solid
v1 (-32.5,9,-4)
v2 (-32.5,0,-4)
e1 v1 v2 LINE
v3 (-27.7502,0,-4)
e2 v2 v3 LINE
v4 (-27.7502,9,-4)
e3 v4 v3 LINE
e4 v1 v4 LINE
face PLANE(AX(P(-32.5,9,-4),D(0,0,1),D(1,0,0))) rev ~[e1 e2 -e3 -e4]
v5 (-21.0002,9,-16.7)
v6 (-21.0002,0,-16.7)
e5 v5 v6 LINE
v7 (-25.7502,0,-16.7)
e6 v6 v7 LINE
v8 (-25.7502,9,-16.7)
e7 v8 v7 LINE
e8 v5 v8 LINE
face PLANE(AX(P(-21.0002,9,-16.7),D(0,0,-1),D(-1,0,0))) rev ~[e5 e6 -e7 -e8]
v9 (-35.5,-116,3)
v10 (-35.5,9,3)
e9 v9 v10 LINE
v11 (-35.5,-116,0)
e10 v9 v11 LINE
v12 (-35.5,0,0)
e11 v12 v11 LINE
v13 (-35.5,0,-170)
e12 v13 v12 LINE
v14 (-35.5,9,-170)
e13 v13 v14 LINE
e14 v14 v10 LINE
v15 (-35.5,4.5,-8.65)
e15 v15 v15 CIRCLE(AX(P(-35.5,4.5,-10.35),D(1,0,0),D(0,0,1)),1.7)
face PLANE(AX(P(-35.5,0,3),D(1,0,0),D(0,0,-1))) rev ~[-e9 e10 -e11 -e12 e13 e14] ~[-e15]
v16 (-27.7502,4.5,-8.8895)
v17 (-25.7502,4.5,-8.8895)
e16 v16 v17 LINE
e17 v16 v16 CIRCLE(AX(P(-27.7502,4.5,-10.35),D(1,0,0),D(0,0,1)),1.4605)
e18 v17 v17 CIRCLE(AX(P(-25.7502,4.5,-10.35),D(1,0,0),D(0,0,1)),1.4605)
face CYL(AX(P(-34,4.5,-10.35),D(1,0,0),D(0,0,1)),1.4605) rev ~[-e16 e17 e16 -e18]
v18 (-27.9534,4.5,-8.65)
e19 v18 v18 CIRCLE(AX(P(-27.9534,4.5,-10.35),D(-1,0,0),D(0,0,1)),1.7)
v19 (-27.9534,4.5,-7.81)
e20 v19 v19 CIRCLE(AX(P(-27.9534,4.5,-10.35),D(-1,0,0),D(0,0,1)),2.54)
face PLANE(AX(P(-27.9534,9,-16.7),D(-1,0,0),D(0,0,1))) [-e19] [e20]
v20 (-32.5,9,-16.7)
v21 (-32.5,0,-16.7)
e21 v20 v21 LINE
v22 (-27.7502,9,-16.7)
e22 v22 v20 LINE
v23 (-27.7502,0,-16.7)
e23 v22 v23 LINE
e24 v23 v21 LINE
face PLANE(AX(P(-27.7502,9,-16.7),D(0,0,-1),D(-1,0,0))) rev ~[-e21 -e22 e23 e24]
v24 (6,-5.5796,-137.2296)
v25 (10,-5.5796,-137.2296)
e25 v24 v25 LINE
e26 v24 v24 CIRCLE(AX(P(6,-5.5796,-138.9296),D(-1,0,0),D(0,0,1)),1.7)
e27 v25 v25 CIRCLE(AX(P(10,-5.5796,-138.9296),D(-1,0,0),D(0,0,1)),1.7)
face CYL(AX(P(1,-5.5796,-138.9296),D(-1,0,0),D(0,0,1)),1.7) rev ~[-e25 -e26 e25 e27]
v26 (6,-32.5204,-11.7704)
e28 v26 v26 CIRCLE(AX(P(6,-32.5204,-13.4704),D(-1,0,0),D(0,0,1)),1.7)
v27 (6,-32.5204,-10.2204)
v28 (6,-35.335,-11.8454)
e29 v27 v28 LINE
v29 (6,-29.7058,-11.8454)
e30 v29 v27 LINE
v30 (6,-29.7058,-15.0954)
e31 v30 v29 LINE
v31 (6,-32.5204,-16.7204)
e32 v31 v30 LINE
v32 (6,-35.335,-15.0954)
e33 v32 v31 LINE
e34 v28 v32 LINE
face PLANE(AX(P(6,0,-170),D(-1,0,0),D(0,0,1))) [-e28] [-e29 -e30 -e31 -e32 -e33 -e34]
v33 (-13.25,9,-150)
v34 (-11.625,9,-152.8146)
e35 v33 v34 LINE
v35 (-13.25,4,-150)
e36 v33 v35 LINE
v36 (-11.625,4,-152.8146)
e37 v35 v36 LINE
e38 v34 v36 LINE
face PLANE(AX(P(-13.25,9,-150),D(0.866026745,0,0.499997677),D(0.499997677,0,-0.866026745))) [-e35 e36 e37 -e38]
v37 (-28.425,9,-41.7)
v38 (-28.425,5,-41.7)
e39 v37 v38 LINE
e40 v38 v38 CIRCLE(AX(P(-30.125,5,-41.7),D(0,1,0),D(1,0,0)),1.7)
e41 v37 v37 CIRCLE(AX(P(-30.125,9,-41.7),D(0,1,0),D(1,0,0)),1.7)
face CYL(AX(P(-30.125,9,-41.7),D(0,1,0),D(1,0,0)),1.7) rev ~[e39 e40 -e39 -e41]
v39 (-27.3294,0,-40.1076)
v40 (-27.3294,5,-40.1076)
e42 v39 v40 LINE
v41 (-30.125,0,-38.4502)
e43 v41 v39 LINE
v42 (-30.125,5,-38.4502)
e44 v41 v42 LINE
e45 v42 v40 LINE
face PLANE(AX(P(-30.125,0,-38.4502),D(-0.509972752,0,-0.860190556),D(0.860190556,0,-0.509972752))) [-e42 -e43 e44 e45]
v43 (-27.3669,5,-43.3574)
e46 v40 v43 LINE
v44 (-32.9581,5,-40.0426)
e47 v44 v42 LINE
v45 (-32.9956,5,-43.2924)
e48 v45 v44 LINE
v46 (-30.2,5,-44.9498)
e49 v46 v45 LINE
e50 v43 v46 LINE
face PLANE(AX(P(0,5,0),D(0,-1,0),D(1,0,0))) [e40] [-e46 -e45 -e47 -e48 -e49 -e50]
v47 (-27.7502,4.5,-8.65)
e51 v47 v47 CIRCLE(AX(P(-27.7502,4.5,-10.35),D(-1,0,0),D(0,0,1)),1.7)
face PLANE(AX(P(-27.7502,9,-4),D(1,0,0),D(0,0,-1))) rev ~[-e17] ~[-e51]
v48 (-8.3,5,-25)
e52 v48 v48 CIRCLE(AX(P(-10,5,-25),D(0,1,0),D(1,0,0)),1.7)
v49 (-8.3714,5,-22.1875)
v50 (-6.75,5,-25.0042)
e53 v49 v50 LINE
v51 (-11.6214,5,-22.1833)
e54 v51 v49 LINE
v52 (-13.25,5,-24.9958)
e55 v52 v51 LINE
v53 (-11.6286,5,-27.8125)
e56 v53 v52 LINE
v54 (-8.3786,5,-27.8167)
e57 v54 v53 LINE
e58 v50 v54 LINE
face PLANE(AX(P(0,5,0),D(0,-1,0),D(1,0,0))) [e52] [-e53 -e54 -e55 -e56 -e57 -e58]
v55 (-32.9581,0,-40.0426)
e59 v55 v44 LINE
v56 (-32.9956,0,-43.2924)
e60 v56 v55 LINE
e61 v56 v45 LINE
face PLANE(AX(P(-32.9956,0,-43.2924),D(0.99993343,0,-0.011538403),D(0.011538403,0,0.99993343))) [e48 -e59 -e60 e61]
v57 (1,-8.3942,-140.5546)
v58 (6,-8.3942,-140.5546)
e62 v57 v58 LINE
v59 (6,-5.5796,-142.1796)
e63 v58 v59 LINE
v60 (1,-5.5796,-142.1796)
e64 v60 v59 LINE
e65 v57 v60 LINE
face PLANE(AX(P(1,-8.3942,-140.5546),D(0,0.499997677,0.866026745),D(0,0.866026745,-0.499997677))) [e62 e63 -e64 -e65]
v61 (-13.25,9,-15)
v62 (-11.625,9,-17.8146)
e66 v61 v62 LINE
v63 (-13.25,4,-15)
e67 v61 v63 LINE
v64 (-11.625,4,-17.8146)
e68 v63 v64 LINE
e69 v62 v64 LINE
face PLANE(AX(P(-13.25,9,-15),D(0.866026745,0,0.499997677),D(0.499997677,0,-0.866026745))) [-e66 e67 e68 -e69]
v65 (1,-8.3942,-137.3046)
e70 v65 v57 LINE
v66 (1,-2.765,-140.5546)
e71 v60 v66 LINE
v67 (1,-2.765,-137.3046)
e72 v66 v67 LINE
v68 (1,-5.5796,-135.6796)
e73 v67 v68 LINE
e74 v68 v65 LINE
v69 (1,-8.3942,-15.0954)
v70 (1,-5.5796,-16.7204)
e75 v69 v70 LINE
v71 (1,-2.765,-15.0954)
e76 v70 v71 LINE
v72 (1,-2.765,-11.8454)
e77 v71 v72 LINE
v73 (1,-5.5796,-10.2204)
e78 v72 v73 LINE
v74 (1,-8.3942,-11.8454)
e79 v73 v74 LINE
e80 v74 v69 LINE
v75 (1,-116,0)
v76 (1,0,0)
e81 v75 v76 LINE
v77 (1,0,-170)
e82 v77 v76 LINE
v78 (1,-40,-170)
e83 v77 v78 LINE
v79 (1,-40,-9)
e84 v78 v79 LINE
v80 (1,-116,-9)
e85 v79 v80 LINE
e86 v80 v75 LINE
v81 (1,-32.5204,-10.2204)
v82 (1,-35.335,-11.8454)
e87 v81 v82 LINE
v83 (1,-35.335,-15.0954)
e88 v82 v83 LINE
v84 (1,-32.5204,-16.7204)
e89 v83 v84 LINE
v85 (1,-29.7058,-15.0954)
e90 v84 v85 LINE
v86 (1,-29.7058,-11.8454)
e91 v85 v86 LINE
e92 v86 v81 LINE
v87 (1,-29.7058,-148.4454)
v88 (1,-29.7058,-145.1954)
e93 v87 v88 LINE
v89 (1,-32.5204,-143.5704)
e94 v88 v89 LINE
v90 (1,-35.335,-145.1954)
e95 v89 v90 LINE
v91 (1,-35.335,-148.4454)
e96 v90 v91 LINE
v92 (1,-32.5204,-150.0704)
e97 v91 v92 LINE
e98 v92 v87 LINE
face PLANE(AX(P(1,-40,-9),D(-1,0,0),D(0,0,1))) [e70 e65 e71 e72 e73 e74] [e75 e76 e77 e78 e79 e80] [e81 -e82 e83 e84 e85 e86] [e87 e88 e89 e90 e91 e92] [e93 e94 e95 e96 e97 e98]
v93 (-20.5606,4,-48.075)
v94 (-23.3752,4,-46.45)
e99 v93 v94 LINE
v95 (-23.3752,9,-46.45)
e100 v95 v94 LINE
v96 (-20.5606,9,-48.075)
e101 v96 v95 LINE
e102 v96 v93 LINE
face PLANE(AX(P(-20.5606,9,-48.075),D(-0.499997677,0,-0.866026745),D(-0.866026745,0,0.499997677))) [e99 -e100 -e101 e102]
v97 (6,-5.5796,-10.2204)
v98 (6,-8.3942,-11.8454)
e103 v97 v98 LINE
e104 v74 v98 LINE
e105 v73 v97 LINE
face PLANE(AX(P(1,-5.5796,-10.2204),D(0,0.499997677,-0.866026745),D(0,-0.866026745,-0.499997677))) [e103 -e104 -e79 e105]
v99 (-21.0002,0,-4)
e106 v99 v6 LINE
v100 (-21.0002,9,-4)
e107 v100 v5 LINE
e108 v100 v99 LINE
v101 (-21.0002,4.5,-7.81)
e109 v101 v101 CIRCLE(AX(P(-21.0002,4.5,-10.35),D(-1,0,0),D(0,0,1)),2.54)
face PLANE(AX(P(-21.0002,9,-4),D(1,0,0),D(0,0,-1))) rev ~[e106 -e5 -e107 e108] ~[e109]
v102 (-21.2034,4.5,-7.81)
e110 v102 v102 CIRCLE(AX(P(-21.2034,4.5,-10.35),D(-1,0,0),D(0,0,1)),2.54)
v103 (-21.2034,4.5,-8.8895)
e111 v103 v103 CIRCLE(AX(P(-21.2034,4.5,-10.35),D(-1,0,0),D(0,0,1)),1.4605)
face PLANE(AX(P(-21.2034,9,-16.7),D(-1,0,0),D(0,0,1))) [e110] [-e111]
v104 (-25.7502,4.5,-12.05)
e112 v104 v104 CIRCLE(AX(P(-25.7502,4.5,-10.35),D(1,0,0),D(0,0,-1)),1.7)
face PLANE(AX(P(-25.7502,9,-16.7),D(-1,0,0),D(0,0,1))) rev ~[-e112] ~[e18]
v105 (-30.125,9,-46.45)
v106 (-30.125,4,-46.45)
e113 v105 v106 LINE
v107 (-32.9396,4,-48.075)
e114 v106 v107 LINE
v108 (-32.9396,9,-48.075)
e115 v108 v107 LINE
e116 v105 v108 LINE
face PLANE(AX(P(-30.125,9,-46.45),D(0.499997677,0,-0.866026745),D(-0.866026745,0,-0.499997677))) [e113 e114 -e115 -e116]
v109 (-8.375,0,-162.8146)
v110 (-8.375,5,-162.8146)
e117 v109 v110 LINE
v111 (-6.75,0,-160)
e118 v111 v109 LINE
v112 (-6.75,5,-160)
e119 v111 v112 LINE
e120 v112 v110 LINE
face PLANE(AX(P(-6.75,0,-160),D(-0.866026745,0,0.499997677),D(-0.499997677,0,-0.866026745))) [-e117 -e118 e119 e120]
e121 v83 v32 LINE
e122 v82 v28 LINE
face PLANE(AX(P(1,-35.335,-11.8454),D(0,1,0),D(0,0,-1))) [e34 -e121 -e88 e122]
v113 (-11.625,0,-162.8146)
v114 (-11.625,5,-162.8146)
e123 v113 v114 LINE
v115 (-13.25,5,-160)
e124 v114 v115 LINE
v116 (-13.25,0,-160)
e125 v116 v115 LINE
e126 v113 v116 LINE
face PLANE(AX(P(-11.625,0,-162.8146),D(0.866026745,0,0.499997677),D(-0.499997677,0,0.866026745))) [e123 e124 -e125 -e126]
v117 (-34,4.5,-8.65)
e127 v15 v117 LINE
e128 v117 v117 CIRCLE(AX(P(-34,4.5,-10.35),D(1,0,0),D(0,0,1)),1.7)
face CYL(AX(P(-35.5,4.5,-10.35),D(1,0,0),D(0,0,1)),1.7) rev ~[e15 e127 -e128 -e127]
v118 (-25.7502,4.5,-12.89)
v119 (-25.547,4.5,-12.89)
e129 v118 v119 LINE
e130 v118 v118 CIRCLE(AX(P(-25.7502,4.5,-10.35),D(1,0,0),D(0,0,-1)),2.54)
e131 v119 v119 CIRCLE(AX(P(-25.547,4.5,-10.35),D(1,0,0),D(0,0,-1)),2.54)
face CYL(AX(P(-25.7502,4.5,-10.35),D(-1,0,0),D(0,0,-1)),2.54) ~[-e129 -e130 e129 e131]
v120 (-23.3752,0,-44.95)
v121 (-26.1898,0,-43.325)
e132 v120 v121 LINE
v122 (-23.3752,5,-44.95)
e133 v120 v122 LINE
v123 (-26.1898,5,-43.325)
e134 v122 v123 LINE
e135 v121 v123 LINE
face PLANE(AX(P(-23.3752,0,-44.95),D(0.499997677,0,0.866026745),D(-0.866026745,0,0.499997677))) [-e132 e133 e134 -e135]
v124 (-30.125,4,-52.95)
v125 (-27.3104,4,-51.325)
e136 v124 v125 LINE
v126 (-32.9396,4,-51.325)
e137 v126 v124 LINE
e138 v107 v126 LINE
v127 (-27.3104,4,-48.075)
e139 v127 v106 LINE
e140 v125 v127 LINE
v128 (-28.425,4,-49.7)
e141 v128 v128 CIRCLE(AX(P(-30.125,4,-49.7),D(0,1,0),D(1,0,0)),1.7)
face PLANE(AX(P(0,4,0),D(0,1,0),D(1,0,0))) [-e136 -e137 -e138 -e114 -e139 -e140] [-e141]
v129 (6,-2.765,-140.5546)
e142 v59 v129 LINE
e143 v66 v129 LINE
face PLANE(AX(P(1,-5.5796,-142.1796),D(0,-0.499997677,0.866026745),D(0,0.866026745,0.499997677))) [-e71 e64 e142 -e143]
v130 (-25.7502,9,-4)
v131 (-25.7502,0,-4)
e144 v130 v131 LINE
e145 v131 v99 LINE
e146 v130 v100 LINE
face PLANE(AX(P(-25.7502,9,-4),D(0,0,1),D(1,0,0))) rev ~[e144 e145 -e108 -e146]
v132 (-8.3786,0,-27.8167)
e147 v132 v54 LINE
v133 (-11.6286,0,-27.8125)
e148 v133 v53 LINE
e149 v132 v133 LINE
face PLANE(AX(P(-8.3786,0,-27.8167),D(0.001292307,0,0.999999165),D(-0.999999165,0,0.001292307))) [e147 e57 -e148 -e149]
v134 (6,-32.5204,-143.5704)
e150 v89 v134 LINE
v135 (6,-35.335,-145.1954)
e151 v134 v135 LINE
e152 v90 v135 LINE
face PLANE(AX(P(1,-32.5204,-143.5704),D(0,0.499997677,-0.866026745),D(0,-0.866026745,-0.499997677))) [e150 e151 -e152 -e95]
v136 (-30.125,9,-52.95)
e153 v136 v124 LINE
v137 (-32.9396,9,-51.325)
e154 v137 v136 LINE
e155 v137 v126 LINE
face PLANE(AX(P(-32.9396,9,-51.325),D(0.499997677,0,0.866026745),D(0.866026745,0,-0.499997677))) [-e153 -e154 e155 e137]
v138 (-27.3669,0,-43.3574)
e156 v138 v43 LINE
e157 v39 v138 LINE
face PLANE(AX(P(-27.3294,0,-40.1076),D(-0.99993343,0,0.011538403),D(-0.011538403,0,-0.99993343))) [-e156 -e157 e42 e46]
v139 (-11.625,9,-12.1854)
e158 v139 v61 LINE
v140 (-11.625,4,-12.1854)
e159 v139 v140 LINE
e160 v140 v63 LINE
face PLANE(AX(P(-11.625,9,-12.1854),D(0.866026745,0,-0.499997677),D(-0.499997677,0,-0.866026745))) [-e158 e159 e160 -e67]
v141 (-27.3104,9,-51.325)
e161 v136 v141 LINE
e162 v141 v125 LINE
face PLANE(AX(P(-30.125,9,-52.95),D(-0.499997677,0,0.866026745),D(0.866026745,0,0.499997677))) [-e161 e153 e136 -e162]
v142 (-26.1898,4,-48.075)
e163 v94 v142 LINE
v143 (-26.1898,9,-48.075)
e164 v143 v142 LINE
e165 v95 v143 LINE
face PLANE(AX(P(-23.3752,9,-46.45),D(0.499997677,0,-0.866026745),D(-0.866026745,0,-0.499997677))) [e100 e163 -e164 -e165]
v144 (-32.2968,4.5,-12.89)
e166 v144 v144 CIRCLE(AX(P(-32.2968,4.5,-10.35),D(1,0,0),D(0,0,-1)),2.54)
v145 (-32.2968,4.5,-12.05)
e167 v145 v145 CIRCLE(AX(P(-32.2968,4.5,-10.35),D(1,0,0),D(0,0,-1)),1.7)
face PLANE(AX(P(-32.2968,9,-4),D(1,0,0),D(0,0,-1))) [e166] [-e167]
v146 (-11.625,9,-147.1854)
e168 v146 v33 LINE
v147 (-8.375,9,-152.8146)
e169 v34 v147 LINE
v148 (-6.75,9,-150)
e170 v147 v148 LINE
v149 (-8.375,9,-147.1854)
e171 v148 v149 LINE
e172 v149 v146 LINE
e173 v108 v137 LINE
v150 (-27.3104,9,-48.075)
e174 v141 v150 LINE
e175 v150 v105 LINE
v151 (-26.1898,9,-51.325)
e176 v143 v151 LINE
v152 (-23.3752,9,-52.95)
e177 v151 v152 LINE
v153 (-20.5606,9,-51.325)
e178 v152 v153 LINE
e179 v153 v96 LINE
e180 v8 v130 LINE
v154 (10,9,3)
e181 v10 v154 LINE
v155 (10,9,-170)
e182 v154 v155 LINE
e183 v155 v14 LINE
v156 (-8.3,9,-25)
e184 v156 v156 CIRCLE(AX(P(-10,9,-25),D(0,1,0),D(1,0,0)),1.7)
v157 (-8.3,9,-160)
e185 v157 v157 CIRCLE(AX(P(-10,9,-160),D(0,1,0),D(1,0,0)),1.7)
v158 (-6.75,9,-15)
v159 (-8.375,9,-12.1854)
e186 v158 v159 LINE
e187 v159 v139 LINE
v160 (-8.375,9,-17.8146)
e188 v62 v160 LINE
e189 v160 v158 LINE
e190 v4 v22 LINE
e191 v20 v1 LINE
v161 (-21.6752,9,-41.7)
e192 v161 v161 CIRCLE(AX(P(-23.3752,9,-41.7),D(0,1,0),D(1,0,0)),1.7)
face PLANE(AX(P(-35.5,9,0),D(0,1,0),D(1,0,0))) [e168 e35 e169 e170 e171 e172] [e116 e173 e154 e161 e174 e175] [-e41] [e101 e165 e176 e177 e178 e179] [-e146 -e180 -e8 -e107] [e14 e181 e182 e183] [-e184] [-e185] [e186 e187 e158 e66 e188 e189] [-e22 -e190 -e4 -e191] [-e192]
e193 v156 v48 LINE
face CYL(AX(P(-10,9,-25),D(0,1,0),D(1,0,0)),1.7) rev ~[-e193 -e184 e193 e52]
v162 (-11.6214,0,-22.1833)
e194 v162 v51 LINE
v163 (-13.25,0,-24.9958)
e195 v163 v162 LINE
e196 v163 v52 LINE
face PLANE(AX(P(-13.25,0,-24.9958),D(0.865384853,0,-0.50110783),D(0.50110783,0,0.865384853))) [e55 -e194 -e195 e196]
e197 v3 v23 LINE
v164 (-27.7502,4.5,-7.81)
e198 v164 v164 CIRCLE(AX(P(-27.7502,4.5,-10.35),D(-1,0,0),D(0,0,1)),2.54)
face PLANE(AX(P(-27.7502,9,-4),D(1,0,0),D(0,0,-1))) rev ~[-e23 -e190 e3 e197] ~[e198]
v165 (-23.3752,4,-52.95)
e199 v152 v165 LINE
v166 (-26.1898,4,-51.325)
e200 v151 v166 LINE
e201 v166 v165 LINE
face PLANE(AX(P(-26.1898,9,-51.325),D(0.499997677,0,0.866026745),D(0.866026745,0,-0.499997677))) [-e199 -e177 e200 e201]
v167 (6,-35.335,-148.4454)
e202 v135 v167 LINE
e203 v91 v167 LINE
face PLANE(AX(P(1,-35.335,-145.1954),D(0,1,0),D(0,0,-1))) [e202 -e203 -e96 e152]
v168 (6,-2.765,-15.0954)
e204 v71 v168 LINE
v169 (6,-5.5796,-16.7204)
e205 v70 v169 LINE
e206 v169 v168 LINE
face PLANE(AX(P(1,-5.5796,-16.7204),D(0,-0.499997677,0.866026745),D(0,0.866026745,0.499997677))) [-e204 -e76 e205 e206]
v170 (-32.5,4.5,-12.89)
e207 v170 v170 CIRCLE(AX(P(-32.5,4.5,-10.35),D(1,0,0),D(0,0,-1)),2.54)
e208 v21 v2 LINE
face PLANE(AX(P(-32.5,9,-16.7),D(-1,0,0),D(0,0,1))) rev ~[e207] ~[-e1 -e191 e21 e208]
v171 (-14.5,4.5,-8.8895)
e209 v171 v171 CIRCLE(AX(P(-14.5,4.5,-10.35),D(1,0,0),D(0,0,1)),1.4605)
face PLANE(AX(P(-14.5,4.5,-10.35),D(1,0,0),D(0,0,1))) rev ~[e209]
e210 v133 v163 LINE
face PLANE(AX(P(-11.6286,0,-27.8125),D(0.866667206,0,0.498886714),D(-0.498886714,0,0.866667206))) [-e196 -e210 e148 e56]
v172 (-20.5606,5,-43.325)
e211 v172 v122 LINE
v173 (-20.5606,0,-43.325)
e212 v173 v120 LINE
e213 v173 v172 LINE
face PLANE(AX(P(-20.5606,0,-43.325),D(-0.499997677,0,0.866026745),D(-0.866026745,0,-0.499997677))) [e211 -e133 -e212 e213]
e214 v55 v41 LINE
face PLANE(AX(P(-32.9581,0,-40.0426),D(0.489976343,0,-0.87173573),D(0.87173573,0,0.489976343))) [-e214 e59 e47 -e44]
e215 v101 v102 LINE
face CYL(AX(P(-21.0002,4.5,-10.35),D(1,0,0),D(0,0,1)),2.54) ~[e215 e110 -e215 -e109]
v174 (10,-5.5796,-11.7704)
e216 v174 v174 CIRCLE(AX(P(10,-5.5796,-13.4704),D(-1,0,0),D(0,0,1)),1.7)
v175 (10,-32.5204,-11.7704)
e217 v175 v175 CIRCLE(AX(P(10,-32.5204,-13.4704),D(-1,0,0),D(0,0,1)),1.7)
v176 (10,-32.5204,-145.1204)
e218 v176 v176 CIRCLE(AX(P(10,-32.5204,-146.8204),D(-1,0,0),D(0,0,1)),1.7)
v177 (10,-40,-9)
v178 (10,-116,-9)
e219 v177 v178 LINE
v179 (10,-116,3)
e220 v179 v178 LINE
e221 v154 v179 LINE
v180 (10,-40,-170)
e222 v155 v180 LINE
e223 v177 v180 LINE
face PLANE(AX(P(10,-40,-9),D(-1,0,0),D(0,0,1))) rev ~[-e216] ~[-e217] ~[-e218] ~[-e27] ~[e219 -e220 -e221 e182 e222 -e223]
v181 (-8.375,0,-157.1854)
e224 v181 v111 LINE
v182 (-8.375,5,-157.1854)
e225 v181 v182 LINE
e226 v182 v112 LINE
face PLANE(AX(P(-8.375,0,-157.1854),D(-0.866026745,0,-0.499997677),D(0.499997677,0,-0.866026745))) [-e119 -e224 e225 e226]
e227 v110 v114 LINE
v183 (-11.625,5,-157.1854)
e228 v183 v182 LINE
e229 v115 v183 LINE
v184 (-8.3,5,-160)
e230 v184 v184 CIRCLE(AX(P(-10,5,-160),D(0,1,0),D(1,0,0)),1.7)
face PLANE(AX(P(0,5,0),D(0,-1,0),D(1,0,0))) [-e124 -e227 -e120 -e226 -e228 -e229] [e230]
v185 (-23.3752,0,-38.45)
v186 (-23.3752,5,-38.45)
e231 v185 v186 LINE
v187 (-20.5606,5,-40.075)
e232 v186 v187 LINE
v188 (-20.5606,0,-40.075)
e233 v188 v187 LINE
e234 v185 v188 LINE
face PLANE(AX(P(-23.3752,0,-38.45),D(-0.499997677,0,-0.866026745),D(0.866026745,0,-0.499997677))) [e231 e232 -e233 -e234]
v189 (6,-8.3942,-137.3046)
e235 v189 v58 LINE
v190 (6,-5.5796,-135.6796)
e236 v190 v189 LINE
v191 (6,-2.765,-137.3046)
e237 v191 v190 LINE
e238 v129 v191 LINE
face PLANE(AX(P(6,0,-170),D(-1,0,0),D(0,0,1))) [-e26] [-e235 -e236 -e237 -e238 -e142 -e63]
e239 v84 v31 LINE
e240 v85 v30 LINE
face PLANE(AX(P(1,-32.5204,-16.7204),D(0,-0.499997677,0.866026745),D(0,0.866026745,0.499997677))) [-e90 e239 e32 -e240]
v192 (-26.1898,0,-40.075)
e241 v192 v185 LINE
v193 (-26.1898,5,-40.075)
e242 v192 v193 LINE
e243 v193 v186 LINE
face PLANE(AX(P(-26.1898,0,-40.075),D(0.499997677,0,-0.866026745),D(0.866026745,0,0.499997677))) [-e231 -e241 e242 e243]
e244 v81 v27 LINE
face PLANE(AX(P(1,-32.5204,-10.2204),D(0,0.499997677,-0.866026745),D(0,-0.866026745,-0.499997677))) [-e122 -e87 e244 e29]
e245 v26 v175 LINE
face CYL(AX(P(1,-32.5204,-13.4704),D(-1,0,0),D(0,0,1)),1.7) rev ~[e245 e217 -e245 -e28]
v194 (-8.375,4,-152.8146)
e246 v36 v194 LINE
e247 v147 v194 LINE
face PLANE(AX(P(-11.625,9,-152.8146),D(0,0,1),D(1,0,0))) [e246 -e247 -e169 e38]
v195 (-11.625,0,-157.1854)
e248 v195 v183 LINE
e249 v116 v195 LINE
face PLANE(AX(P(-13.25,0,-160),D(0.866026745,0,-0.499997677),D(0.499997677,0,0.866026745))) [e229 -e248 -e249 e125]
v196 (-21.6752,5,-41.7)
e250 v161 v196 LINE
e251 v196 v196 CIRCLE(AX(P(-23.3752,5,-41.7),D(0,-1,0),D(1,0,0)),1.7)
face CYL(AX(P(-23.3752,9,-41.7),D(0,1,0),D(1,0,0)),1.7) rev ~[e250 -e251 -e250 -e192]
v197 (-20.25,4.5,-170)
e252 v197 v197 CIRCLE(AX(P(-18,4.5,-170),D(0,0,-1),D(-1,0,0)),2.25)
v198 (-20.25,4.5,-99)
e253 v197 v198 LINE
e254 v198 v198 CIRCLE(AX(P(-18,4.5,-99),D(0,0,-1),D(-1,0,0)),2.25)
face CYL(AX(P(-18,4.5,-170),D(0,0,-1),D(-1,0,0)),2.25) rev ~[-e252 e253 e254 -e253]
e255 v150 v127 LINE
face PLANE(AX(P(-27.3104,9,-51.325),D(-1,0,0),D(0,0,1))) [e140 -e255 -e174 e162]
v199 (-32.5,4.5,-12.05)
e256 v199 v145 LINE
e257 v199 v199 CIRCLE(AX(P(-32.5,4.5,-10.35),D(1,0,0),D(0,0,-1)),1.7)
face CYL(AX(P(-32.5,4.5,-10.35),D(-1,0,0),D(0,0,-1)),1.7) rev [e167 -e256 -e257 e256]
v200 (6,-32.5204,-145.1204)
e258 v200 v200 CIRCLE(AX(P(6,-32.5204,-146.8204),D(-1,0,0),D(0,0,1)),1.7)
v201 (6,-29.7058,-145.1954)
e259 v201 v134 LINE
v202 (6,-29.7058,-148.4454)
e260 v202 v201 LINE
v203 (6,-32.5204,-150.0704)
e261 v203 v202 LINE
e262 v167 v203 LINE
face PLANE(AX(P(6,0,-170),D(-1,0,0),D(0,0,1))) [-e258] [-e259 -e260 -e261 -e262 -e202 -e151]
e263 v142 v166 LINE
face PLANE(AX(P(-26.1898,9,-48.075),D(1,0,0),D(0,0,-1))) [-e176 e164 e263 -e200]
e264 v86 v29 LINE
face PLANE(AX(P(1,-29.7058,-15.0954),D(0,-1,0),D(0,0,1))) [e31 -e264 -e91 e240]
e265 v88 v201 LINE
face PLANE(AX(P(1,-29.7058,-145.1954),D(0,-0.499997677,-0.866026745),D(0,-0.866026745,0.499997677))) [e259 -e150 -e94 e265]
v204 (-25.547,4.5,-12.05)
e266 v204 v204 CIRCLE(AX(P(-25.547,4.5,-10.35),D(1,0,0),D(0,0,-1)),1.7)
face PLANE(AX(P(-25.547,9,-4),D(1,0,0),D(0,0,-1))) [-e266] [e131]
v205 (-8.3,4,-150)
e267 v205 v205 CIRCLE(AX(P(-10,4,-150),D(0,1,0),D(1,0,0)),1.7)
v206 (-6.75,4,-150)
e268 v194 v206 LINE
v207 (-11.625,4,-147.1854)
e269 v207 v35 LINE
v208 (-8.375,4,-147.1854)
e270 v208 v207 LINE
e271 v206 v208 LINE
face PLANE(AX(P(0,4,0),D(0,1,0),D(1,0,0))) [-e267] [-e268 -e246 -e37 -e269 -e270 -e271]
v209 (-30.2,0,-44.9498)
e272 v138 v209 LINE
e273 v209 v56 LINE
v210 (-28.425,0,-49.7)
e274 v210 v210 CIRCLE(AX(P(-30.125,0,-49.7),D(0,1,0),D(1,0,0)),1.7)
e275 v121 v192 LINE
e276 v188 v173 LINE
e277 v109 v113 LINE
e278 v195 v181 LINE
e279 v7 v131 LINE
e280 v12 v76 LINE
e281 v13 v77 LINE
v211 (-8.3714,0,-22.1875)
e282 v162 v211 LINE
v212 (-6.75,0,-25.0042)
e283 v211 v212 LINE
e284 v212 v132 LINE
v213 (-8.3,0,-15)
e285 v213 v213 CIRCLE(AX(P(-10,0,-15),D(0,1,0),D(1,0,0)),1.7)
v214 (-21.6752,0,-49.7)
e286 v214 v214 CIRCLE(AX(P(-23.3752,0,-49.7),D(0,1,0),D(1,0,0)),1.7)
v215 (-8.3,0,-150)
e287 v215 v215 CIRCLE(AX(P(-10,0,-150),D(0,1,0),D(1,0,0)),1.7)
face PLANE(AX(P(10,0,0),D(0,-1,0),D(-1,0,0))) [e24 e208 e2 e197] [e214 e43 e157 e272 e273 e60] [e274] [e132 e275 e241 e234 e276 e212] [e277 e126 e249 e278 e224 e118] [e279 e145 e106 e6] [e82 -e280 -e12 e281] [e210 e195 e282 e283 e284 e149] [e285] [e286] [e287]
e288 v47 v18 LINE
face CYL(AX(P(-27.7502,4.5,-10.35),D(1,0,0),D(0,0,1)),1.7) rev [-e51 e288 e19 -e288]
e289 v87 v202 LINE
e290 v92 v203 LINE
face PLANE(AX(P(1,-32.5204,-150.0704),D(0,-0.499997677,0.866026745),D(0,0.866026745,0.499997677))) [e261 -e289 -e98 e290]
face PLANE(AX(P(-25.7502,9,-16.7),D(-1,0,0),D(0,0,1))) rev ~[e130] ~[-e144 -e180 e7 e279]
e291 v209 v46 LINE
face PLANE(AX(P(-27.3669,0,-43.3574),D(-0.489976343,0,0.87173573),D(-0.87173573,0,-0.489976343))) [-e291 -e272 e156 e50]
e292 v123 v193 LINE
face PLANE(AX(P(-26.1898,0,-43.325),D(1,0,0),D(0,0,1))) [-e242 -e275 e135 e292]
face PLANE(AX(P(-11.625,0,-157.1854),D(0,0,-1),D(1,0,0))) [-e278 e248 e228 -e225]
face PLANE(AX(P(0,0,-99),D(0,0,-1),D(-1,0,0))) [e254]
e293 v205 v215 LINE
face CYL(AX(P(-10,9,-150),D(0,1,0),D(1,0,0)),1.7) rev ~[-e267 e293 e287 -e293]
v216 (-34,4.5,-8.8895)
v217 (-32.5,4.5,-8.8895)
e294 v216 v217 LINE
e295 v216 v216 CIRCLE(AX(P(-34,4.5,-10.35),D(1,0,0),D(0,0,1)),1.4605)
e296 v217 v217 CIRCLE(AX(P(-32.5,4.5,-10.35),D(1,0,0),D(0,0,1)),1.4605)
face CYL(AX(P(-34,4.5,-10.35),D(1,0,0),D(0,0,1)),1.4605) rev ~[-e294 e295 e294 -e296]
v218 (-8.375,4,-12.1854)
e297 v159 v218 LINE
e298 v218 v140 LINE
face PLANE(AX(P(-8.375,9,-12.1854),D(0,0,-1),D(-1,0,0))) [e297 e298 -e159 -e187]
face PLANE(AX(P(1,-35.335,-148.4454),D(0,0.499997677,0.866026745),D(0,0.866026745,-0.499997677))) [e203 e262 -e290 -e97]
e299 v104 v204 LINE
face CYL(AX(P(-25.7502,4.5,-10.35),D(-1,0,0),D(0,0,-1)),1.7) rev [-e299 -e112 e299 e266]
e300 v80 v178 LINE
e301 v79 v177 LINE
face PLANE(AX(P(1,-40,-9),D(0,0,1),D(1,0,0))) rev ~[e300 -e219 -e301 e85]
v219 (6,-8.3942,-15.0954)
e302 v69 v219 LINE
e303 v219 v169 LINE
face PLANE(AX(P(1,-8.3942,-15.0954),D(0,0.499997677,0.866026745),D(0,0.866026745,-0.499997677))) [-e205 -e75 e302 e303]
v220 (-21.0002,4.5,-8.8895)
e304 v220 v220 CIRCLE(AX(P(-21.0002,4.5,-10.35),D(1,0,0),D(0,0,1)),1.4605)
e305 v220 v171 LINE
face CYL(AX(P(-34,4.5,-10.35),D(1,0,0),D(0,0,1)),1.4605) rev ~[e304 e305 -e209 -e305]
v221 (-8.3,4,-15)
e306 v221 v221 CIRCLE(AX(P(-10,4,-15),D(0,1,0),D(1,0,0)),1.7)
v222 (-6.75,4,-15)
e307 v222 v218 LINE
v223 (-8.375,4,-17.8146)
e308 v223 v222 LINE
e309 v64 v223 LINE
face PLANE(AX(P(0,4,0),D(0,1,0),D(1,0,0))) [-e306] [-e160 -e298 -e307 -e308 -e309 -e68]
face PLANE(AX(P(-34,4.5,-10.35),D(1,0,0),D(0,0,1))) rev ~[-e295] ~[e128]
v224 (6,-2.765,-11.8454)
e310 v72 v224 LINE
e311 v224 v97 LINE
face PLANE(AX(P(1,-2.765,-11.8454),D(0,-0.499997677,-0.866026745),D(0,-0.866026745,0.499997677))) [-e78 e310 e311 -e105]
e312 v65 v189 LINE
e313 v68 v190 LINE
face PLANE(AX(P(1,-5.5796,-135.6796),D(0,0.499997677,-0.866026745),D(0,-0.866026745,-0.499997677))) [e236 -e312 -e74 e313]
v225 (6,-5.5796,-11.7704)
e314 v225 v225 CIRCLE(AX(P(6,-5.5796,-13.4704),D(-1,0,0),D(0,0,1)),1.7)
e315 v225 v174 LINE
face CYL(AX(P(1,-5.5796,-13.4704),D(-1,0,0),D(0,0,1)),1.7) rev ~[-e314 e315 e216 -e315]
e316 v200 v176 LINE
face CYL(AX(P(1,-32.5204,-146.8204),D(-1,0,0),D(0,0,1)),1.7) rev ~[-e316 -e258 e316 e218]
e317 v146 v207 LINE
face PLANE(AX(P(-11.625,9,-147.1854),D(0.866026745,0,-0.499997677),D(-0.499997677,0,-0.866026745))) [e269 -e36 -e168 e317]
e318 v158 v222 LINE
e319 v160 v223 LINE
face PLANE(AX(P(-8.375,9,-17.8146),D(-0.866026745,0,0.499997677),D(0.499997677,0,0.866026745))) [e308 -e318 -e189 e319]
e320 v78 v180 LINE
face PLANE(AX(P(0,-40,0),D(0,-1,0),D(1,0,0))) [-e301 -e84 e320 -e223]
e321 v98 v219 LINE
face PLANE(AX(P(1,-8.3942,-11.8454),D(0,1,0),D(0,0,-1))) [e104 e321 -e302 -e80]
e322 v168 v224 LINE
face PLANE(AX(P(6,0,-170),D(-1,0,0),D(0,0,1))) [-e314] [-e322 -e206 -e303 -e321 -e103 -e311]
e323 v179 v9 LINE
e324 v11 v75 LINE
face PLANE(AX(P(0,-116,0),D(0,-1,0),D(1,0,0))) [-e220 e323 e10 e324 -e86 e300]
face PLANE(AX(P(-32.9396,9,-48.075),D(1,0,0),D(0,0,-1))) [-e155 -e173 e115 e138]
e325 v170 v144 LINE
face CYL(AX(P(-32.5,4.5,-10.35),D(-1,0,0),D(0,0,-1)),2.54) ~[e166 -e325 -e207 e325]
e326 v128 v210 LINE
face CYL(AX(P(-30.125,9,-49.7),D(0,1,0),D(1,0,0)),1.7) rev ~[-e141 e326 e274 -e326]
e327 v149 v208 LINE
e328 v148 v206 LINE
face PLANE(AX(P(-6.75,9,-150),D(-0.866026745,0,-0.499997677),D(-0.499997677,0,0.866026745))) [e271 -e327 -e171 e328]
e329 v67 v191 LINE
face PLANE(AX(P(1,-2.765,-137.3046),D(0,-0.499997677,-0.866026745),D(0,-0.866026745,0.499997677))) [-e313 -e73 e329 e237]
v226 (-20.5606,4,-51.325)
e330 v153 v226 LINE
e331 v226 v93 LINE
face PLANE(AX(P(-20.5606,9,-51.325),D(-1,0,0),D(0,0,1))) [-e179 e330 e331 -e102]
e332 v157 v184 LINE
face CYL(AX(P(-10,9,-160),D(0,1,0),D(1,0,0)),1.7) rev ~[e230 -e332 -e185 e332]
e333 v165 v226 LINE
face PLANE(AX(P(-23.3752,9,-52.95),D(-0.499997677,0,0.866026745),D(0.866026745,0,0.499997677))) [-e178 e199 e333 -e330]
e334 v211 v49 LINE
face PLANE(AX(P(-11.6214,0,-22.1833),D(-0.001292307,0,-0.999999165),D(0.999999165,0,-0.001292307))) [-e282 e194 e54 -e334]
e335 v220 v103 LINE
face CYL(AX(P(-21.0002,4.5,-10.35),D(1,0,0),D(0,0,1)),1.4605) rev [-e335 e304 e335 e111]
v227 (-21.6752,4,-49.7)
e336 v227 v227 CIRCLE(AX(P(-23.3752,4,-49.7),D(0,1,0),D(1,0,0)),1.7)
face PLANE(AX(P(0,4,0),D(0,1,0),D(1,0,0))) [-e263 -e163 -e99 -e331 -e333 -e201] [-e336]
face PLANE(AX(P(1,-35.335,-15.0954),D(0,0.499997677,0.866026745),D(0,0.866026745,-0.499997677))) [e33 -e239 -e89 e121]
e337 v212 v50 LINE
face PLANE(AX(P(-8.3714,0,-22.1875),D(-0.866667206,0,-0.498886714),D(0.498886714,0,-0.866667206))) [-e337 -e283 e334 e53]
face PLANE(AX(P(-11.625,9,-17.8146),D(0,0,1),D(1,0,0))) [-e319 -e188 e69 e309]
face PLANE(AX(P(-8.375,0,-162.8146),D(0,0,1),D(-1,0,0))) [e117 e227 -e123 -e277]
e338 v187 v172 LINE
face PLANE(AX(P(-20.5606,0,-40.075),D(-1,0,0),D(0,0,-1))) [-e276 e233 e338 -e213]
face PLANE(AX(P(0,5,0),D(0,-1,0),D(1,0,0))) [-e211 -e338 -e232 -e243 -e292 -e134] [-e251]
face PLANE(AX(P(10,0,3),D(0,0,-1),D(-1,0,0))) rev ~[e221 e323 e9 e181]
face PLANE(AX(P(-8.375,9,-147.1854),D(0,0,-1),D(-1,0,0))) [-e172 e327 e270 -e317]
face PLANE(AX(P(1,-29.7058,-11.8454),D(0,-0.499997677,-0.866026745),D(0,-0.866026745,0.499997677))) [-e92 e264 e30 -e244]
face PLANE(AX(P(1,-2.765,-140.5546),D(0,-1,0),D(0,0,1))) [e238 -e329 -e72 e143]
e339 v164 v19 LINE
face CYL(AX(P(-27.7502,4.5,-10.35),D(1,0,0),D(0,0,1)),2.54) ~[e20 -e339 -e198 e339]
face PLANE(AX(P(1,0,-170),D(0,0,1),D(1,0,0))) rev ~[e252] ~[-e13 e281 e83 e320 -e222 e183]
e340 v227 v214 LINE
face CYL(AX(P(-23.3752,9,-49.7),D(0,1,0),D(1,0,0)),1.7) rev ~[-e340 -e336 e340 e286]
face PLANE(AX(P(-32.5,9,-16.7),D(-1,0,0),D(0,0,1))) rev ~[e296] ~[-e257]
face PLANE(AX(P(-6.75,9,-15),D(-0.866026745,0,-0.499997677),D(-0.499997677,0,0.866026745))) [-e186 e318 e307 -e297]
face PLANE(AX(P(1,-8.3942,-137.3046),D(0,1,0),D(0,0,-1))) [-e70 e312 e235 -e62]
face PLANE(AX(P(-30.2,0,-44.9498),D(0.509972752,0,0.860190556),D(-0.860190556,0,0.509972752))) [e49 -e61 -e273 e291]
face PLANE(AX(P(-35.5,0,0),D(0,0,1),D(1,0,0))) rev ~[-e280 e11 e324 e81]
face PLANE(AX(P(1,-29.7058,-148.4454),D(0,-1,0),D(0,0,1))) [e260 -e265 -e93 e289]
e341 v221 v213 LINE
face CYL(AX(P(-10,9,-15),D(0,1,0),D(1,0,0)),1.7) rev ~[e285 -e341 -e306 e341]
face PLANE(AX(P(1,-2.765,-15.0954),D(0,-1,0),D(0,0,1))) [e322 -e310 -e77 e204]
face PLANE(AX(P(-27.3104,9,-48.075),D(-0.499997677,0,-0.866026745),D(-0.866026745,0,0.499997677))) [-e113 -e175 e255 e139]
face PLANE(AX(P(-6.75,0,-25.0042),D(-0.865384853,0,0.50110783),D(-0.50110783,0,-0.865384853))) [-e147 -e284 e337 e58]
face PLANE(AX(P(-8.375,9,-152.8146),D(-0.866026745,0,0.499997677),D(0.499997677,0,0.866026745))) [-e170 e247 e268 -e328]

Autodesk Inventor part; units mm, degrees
ref_plane "YZ Plane" through (0, 0, 0) normal (1, 0, 0) x (0, 1, 0)
ref_plane "XZ Plane" through (0, 0, 0) normal (0, 1, 0) x (-1, 0, 0)
ref_plane "XY Plane" through (0, 0, 0) normal (0, 0, 1) x (1, 0, 0)
sketch "Sketch1" plane through (0, 0, 0) normal (0, 1, 0) x (-1, 0, 0)
  line L0 (0, 0) -> (35.5, 0)
  line L1 (35.5, 0) -> (35.5, -170)
  line L2 (35.5, -170) -> (0, -170)
  line L3 (0, -170) -> (0, 0)
  dimension "d0" = 35.5
  dimension "d1" = 170
extrude "Extrusion1" add sketch "Sketch1" along normal blind 9
sketch "Sketch2" plane through (0, 9, 0) normal (0, 1, 0) x (1, 0, 0)
  circle A0 centre (-10, 15) radius 3.25 construction
  line L0 (-35.5, 0) -> (0, 0) projected
  line L1 (0, 0) -> (0, 170) projected
  line L2 (-13.25, 15) -> (-11.625, 17.8146)
  line L3 (-11.625, 17.8146) -> (-8.375, 17.8146)
  line L4 (-8.375, 17.8146) -> (-6.75, 15)
  line L5 (-6.75, 15) -> (-8.375, 12.1854)
  line L6 (-8.375, 12.1854) -> (-11.625, 12.1854)
  line L7 (-11.625, 12.1854) -> (-13.25, 15)
  circle A1 centre (-10, 150) radius 3.25 construction
  line L8 (-13.25, 150) -> (-11.625, 152.8146)
  line L9 (-11.625, 152.8146) -> (-8.375, 152.8146)
  line L10 (-8.375, 152.8146) -> (-6.75, 150)
  line L11 (-6.75, 150) -> (-8.375, 147.1854)
  line L12 (-8.375, 147.1854) -> (-11.625, 147.1854)
  line L13 (-11.625, 147.1854) -> (-13.25, 150)
  line L14 (0, 170) -> (-35.5, 170) projected
  circle A2 centre (-10, 15) radius 1.7 construction
  circle A3 centre (-10, 150) radius 1.7 construction
  dimension "d7" = 6.5
  dimension "d10" = 6.5
  dimension "d23" = 135
  dimension "d24" = 15
  dimension "d25" = 10
  dimension "d28" = 3.4
  dimension "d29" = 3.4
extrude "Extrusion2" cut sketch "Sketch2" against normal blind 5
sketch "Sketch3" plane through (0, 0, 0) normal (0, -1, 0) x (1, 0, 0)
  circle A0 centre (-10, -25) radius 3.25 construction
  line L0 (0, 0) -> (-35.5, 0) projected
  line L1 (-35.5, 0) -> (-35.5, -170) projected
  line L2 (-11.6286, -27.8125) -> (-13.25, -24.9958)
  line L3 (-13.25, -24.9958) -> (-11.6214, -22.1833)
  line L4 (-11.6214, -22.1833) -> (-8.3714, -22.1875)
  line L5 (-8.3714, -22.1875) -> (-6.75, -25.0042)
  line L6 (-6.75, -25.0042) -> (-8.3786, -27.8167)
  line L7 (-8.3786, -27.8167) -> (-11.6286, -27.8125)
  circle A1 centre (-10, -160) radius 3.25 construction
  line L8 (-6.75, -160) -> (-8.375, -162.8146)
  line L9 (-8.375, -162.8146) -> (-11.625, -162.8146)
  line L10 (-11.625, -162.8146) -> (-13.25, -160)
  line L11 (-13.25, -160) -> (-11.625, -157.1854)
  line L12 (-11.625, -157.1854) -> (-8.375, -157.1854)
  line L13 (-8.375, -157.1854) -> (-6.75, -160)
  line L14 (0, -170) -> (0, 0) projected
  dimension "d15" = 6.5
  dimension "d18" = 6.5
  dimension "d16" = 25
  dimension "d19" = 135
  dimension "d26" = 10
  dimension "d27" = 10
extrude "Extrusion3" cut sketch "Sketch3" against normal blind 5
sketch "Sketch5" plane through (0, 9, 0) normal (0, 1, 0) x (1, 0, 0)
  circle A0 centre (-10, 15) radius 1.7
  line L0 (0, 0) -> (0, 170) projected
  line L1 (-35.5, 0) -> (0, 0) projected
  circle A1 centre (-10, 150) radius 1.7
  circle A2 centre (-10, 25) radius 1.7
  circle A3 centre (-10, 160) radius 1.7
  dimension "d30" = 3.4
  dimension "d31" = 10
  dimension "d32" = 15
  dimension "d33" = 3.4
  dimension "d34" = 10
  dimension "d35" = 135
  dimension "d36" = 3.4
  dimension "d37" = 25
  dimension "d38" = 3.4
  dimension "d39" = 10
  dimension "d40" = 135
extrude "Extrusion4" cut sketch "Sketch5" against normal through all
sketch "Sketch6" plane through (0, 9, 0) normal (0, 1, 0) x (1, 0, 0)
  line L0 (-32.5, 4) -> (-27.7502, 4)
  line L1 (-27.7502, 4) -> (-27.7502, 16.7)
  line L2 (-27.7502, 16.7) -> (-32.5, 16.7)
  line L3 (-32.5, 16.7) -> (-32.5, 4)
  line L4 (-35.5, 0) -> (0, 0) projected
  line L5 (-35.5, 170) -> (-35.5, 0) projected
  line L6 (-25.7502, 4) -> (-21.0002, 4)
  line L7 (-21.0002, 4) -> (-21.0002, 16.7)
  line L8 (-21.0002, 16.7) -> (-25.7502, 16.7)
  line L9 (-25.7502, 16.7) -> (-25.7502, 4)
  line L10 (0, 0) -> (0, 170) construction
  line L11 (-35.5, 170) -> (0, 170) projected
  line L12 (0, 0) -> (-20, 0) construction
  line L13 (-20, 0) -> (-20, 170) construction
  line L14 (-20, 170) -> (0, 170) construction
  line L15 (0, 170) -> (0, 0)
  circle A0 centre (-23.3752, 41.7) radius 1.7
  circle A1 centre (-30.125, 41.7) radius 1.7
  circle A2 centre (-30.125, 49.7) radius 1.7
  circle A3 centre (-23.3752, 49.7) radius 1.7
  dimension "d43" = 4.7498
  dimension "d44" = 12.7
  dimension "d45" = 4
  dimension "d46" = 3
  dimension "d47" = 4.75
  dimension "d48" = 2
  dimension "d49" = 20
  dimension "d50" = 3.4
  dimension "d51" = 25
  dimension "d87" = 3.4
  dimension "d88" = 5.375
  dimension "d90" = 3.4
  dimension "d91" = 8
  dimension "d92" = 3.4
extrude "Extrusion5" cut sketch "Sketch6" against normal through all contours L3 L2 L1 L0 | L9 L8 L7 L6 | A0 | A1 | A2 | A3
sketch "Sketch7" plane through (0, 0, 0) normal (0, -1, 0) x (1, 0, 0)
  circle A0 centre (-23.3752, -41.7) radius 1.7 projected
  circle A1 centre (-23.3752, -41.7) radius 3.25 construction
  line L0 (-23.3752, -38.45) -> (-20.5606, -40.075)
  line L1 (-20.5606, -40.075) -> (-20.5606, -43.325)
  line L2 (-20.5606, -43.325) -> (-23.3752, -44.95)
  line L3 (-23.3752, -44.95) -> (-26.1898, -43.325)
  line L4 (-26.1898, -43.325) -> (-26.1898, -40.075)
  line L5 (-26.1898, -40.075) -> (-23.3752, -38.45)
  circle A2 centre (-30.1625, -41.7) radius 3.25 construction
  line L6 (-30.125, -38.4502) -> (-27.3294, -40.1076)
  line L7 (-27.3294, -40.1076) -> (-27.3669, -43.3574)
  line L8 (-27.3669, -43.3574) -> (-30.2, -44.9498)
  line L9 (-30.2, -44.9498) -> (-32.9956, -43.2924)
  line L10 (-32.9956, -43.2924) -> (-32.9581, -40.0426)
  line L11 (-32.9581, -40.0426) -> (-30.125, -38.4502)
  point P0 (0, 0)
  dimension "d89" = 6.5
  dimension "d54" = 6.5
extrude "Extrusion6" cut sketch "Sketch7" against normal blind 5
sketch "Sketch8" plane through (-35.5, 0, -170) normal (-1, 0, 0) x (0, 0, 1)
  circle A0 centre (159.65, 4.5) radius 1.4605
  line L0 (0, 9) -> (170, 9) projected
  line L1 (170, 0) -> (170, 9) projected
  dimension "d57" = 2.921
  dimension "d58" = 4.5
  dimension "d59" = 10.35
hole "Hole1" at (-35.5, 4.5, -10.35) direction (1, 0, 0) diameter 2.921 depth 21 counterbore diameter 3.4 counterbore depth 1.5
sketch "Sketch9" plane through (-21.0002, 9, -16.7) normal (-1, 0, 0) x (0, 0, 1)
  circle A0 centre (6.35, -4.5) radius 1.4605 projected
  circle A1 centre (6.35, -4.5) radius 2.54
  point P0 (16.7, -9)
  dimension "d67" = 5.08
extrude "Extrusion7" add sketch "Sketch9" along normal blind 0.2032
sketch "Sketch10" plane through (-27.7502, 9, -16.7) normal (-1, 0, 0) x (0, 0, 1)
  circle A0 centre (6.35, -4.5) radius 1.7 projected
  circle A1 centre (6.35, -4.5) radius 2.54
  point P0 (16.7, -9)
  dimension "d70" = 5.08
extrude "Extrusion8" add sketch "Sketch10" along normal blind 0.2032
sketch "Sketch11" plane through (-25.7502, 9, -4) normal (1, 0, 0) x (0, 0, -1)
  circle A0 centre (6.35, -4.5) radius 1.7 projected
  circle A1 centre (6.35, -4.5) radius 2.54
  point P0 (-4, -9)
  dimension "d73" = 5.08
extrude "Extrusion9" add sketch "Sketch11" along normal blind 0.2032
sketch "Sketch12" plane through (-32.5, 9, -4) normal (1, 0, 0) x (0, 0, -1)
  circle A0 centre (6.35, -4.5) radius 1.7 projected
  circle A1 centre (6.35, -4.5) radius 2.54
  point P0 (-4, -9)
  dimension "d76" = 5.08
extrude "Extrusion10" add sketch "Sketch12" along normal blind 0.2032
sketch "Sketch14" plane through (0, 0, -170) normal (0, 0, -1) x (-1, 0, 0)
  circle A0 centre (18, 4.5) radius 2.25
  line L0 (35.5, 0) -> (0, 0) projected
  line L1 (0, 0) -> (0, 9) projected
  dimension "d82" = 4.5
  dimension "d83" = 4.5
  dimension "d84" = 18
extrude "Extrusion11" cut sketch "Sketch14" against normal blind 71
sketch "Sketch15" plane through (0, 9, 0) normal (0, 1, 0) x (1, 0, 0)
  circle A0 centre (-30.125, 49.7) radius 1.7 projected
  circle A1 centre (-30.125, 49.7) radius 3.25 construction
  circle A2 centre (-23.3752, 49.7) radius 1.7 projected
  circle A3 centre (-23.3752, 49.7) radius 3.25 construction
  line L0 (-30.125, 46.45) -> (-32.9396, 48.075)
  line L1 (-32.9396, 48.075) -> (-32.9396, 51.325)
  line L2 (-32.9396, 51.325) -> (-30.125, 52.95)
  line L3 (-30.125, 52.95) -> (-27.3104, 51.325)
  line L4 (-27.3104, 51.325) -> (-27.3104, 48.075)
  line L5 (-27.3104, 48.075) -> (-30.125, 46.45)
  line L6 (-23.3752, 46.45) -> (-26.1898, 48.075)
  line L7 (-26.1898, 48.075) -> (-26.1898, 51.325)
  line L8 (-26.1898, 51.325) -> (-23.3752, 52.95)
  line L9 (-23.3752, 52.95) -> (-20.5606, 51.325)
  line L10 (-20.5606, 51.325) -> (-20.5606, 48.075)
  line L11 (-20.5606, 48.075) -> (-23.3752, 46.45)
  point P0 (0, 0)
  dimension "d93" = 6.5
  dimension "d94" = 6.5
extrude "Extrusion12" cut sketch "Sketch15" against normal blind 5
sketch "Sketch16" plane through (0, 0, 0) normal (1, 0, 0) x (0, 0, -1)
  line L0 (0, 0) -> (0, 9) projected
  line L1 (170, 0) -> (170, 9) projected
  line L2 (0, 9) -> (170, 9)
  line L3 (170, 9) -> (170, 0)
  line L4 (170, 0) -> (0, 0)
  line L5 (0, 0) -> (0, 9)
extrude "Extrusion13" add sketch "Sketch16" along normal blind 10
sketch "Sketch17" plane through (-35.5, 0, 0) normal (0, 0, 1) x (1, 0, 0)
  line L0 (0, 9) -> (45.5, 9) projected
  line L1 (45.5, 9) -> (45.5, 0) projected
  line L2 (0, 9) -> (45.5, 9)
  line L3 (45.5, 9) -> (45.5, 0)
  line L4 (45.5, 0) -> (0, 0)
  line L5 (0, 0) -> (0, 9)
  point P0 (35.5, 0)
extrude "Extrusion14" add sketch "Sketch17" along normal blind 3
sketch "Sketch18" plane through (0, 0, 0) normal (0, -1, 0) x (1, 0, 0)
  line L0 (10, -170) -> (10, 3) projected
  line L1 (-35.5, 3) -> (-35.5, -170) projected
  line L2 (10, 3) -> (-35.5, 3)
  line L3 (-35.5, 3) -> (-35.5, 0)
  line L4 (-35.5, 0) -> (10, 0)
  line L5 (10, 0) -> (10, 3)
  point P0 (0, 0)
extrude "Extrusion15" add sketch "Sketch18" along normal blind 116
sketch "Sketch19" plane through (0, 0, 0) normal (0, -1, 0) x (1, 0, 0)
  line L0 (-35.5, -170) -> (10, -170) projected
  line L1 (10, 0) -> (-35.5, 0) projected
  line L2 (10, -170) -> (1, -170)
  line L3 (1, -170) -> (1, 0)
  line L4 (1, 0) -> (10, 0)
  line L5 (10, 0) -> (10, -170)
  point P0 (0, 0)
  dimension "d103" = 9
extrude "Extrusion16" add sketch "Sketch19" along normal blind 40
sketch "Sketch20" plane through (0, -40, 0) normal (0, -1, 0) x (1, 0, 0)
  line L0 (10, -170) -> (10, 3) projected
  line L1 (1, -170) -> (1, 0) projected
  line L2 (1, 0) -> (1, -9)
  line L3 (1, -9) -> (10, -9)
  line L4 (10, -9) -> (10, 0)
  line L5 (10, 0) -> (10, 3) projected
  line L6 (1, 0) -> (10, 0)
  point P0 (0, 0)
  dimension "d109" = 9
extrude "Extrusion17" add sketch "Sketch20" along normal up to surface (76 mm away)
sketch "Sketch21" plane through (1, 0, -170) normal (-1, 0, 0) x (0, 0, 1)
  circle A0 centre (164.4204, -5.5796) radius 1.778 construction
  circle A1 centre (164.4204, -32.5204) radius 1.778 construction
  circle A2 centre (12.0204, -32.5204) radius 1.778
  circle A3 centre (23.1796, -32.5204) radius 1.778 construction
  circle A4 centre (31.0704, -5.5796) radius 1.778 construction
  circle A5 centre (23.1796, -32.5204) radius 3.25 construction
  line L0 (19.9296, -32.5204) -> (21.5546, -29.7058)
  line L1 (21.5546, -29.7058) -> (24.8046, -29.7058)
  line L2 (24.8046, -29.7058) -> (26.4296, -32.5204)
  line L3 (26.4296, -32.5204) -> (24.8046, -35.335)
  line L4 (24.8046, -35.335) -> (21.5546, -35.335)
  line L5 (21.5546, -35.335) -> (19.9296, -32.5204)
  circle A6 centre (31.0704, -5.5796) radius 3.25 construction
  line L6 (27.8204, -5.5796) -> (29.4454, -2.765)
  line L7 (29.4454, -2.765) -> (32.6954, -2.765)
  line L8 (32.6954, -2.765) -> (34.3204, -5.5796)
  line L9 (34.3204, -5.5796) -> (32.6954, -8.3942)
  line L10 (32.6954, -8.3942) -> (29.4454, -8.3942)
  line L11 (29.4454, -8.3942) -> (27.8204, -5.5796)
  circle A7 centre (156.5296, -32.5204) radius 1.778 construction
  circle A8 centre (156.5296, -5.5796) radius 1.778 construction
  circle A9 centre (156.5296, -32.5204) radius 3.25 construction
  circle A10 centre (156.5296, -5.5796) radius 3.25 construction
  line L12 (159.7796, -32.5204) -> (158.1546, -35.335)
  line L13 (158.1546, -35.335) -> (154.9046, -35.335)
  line L14 (154.9046, -35.335) -> (153.2796, -32.5204)
  line L15 (153.2796, -32.5204) -> (154.9046, -29.7058)
  line L16 (154.9046, -29.7058) -> (158.1546, -29.7058)
  line L17 (158.1546, -29.7058) -> (159.7796, -32.5204)
  line L18 (159.7796, -5.5796) -> (158.1546, -8.3942)
  line L19 (158.1546, -8.3942) -> (154.9046, -8.3942)
  line L20 (154.9046, -8.3942) -> (153.2796, -5.5796)
  line L21 (153.2796, -5.5796) -> (154.9046, -2.765)
  line L22 (154.9046, -2.765) -> (158.1546, -2.765)
  line L23 (158.1546, -2.765) -> (159.7796, -5.5796)
  point P0 (170, 0)
extrude "Extrusion18" cut sketch "Sketch21" against normal blind 5 contours L0 L1 L2 L3 L4 L5 | L6 L7 L8 L9 L10 L11 | L12 L13 L14 L15 L16 L17 | L18 L19 L20 L21 L22 L23
sketch "Sketch22" plane through (1, 0, -170) normal (-1, 0, 0) x (0, 0, 1)
  circle A0 centre (23.1796, -32.5204) radius 1.7
  circle A1 centre (31.0704, -5.5796) radius 1.7
  circle A2 centre (156.5296, -32.5204) radius 1.7
  circle A3 centre (156.5296, -5.5796) radius 1.7
  point P0 (170, 0)
  dimension "d116" = 3.4
  dimension "d117" = 3.4
  dimension "d124" = 3.4
  dimension "d125" = 3.4
extrude "Extrusion19" cut sketch "Sketch22" against normal through all
properties part number "mounting bracet"
